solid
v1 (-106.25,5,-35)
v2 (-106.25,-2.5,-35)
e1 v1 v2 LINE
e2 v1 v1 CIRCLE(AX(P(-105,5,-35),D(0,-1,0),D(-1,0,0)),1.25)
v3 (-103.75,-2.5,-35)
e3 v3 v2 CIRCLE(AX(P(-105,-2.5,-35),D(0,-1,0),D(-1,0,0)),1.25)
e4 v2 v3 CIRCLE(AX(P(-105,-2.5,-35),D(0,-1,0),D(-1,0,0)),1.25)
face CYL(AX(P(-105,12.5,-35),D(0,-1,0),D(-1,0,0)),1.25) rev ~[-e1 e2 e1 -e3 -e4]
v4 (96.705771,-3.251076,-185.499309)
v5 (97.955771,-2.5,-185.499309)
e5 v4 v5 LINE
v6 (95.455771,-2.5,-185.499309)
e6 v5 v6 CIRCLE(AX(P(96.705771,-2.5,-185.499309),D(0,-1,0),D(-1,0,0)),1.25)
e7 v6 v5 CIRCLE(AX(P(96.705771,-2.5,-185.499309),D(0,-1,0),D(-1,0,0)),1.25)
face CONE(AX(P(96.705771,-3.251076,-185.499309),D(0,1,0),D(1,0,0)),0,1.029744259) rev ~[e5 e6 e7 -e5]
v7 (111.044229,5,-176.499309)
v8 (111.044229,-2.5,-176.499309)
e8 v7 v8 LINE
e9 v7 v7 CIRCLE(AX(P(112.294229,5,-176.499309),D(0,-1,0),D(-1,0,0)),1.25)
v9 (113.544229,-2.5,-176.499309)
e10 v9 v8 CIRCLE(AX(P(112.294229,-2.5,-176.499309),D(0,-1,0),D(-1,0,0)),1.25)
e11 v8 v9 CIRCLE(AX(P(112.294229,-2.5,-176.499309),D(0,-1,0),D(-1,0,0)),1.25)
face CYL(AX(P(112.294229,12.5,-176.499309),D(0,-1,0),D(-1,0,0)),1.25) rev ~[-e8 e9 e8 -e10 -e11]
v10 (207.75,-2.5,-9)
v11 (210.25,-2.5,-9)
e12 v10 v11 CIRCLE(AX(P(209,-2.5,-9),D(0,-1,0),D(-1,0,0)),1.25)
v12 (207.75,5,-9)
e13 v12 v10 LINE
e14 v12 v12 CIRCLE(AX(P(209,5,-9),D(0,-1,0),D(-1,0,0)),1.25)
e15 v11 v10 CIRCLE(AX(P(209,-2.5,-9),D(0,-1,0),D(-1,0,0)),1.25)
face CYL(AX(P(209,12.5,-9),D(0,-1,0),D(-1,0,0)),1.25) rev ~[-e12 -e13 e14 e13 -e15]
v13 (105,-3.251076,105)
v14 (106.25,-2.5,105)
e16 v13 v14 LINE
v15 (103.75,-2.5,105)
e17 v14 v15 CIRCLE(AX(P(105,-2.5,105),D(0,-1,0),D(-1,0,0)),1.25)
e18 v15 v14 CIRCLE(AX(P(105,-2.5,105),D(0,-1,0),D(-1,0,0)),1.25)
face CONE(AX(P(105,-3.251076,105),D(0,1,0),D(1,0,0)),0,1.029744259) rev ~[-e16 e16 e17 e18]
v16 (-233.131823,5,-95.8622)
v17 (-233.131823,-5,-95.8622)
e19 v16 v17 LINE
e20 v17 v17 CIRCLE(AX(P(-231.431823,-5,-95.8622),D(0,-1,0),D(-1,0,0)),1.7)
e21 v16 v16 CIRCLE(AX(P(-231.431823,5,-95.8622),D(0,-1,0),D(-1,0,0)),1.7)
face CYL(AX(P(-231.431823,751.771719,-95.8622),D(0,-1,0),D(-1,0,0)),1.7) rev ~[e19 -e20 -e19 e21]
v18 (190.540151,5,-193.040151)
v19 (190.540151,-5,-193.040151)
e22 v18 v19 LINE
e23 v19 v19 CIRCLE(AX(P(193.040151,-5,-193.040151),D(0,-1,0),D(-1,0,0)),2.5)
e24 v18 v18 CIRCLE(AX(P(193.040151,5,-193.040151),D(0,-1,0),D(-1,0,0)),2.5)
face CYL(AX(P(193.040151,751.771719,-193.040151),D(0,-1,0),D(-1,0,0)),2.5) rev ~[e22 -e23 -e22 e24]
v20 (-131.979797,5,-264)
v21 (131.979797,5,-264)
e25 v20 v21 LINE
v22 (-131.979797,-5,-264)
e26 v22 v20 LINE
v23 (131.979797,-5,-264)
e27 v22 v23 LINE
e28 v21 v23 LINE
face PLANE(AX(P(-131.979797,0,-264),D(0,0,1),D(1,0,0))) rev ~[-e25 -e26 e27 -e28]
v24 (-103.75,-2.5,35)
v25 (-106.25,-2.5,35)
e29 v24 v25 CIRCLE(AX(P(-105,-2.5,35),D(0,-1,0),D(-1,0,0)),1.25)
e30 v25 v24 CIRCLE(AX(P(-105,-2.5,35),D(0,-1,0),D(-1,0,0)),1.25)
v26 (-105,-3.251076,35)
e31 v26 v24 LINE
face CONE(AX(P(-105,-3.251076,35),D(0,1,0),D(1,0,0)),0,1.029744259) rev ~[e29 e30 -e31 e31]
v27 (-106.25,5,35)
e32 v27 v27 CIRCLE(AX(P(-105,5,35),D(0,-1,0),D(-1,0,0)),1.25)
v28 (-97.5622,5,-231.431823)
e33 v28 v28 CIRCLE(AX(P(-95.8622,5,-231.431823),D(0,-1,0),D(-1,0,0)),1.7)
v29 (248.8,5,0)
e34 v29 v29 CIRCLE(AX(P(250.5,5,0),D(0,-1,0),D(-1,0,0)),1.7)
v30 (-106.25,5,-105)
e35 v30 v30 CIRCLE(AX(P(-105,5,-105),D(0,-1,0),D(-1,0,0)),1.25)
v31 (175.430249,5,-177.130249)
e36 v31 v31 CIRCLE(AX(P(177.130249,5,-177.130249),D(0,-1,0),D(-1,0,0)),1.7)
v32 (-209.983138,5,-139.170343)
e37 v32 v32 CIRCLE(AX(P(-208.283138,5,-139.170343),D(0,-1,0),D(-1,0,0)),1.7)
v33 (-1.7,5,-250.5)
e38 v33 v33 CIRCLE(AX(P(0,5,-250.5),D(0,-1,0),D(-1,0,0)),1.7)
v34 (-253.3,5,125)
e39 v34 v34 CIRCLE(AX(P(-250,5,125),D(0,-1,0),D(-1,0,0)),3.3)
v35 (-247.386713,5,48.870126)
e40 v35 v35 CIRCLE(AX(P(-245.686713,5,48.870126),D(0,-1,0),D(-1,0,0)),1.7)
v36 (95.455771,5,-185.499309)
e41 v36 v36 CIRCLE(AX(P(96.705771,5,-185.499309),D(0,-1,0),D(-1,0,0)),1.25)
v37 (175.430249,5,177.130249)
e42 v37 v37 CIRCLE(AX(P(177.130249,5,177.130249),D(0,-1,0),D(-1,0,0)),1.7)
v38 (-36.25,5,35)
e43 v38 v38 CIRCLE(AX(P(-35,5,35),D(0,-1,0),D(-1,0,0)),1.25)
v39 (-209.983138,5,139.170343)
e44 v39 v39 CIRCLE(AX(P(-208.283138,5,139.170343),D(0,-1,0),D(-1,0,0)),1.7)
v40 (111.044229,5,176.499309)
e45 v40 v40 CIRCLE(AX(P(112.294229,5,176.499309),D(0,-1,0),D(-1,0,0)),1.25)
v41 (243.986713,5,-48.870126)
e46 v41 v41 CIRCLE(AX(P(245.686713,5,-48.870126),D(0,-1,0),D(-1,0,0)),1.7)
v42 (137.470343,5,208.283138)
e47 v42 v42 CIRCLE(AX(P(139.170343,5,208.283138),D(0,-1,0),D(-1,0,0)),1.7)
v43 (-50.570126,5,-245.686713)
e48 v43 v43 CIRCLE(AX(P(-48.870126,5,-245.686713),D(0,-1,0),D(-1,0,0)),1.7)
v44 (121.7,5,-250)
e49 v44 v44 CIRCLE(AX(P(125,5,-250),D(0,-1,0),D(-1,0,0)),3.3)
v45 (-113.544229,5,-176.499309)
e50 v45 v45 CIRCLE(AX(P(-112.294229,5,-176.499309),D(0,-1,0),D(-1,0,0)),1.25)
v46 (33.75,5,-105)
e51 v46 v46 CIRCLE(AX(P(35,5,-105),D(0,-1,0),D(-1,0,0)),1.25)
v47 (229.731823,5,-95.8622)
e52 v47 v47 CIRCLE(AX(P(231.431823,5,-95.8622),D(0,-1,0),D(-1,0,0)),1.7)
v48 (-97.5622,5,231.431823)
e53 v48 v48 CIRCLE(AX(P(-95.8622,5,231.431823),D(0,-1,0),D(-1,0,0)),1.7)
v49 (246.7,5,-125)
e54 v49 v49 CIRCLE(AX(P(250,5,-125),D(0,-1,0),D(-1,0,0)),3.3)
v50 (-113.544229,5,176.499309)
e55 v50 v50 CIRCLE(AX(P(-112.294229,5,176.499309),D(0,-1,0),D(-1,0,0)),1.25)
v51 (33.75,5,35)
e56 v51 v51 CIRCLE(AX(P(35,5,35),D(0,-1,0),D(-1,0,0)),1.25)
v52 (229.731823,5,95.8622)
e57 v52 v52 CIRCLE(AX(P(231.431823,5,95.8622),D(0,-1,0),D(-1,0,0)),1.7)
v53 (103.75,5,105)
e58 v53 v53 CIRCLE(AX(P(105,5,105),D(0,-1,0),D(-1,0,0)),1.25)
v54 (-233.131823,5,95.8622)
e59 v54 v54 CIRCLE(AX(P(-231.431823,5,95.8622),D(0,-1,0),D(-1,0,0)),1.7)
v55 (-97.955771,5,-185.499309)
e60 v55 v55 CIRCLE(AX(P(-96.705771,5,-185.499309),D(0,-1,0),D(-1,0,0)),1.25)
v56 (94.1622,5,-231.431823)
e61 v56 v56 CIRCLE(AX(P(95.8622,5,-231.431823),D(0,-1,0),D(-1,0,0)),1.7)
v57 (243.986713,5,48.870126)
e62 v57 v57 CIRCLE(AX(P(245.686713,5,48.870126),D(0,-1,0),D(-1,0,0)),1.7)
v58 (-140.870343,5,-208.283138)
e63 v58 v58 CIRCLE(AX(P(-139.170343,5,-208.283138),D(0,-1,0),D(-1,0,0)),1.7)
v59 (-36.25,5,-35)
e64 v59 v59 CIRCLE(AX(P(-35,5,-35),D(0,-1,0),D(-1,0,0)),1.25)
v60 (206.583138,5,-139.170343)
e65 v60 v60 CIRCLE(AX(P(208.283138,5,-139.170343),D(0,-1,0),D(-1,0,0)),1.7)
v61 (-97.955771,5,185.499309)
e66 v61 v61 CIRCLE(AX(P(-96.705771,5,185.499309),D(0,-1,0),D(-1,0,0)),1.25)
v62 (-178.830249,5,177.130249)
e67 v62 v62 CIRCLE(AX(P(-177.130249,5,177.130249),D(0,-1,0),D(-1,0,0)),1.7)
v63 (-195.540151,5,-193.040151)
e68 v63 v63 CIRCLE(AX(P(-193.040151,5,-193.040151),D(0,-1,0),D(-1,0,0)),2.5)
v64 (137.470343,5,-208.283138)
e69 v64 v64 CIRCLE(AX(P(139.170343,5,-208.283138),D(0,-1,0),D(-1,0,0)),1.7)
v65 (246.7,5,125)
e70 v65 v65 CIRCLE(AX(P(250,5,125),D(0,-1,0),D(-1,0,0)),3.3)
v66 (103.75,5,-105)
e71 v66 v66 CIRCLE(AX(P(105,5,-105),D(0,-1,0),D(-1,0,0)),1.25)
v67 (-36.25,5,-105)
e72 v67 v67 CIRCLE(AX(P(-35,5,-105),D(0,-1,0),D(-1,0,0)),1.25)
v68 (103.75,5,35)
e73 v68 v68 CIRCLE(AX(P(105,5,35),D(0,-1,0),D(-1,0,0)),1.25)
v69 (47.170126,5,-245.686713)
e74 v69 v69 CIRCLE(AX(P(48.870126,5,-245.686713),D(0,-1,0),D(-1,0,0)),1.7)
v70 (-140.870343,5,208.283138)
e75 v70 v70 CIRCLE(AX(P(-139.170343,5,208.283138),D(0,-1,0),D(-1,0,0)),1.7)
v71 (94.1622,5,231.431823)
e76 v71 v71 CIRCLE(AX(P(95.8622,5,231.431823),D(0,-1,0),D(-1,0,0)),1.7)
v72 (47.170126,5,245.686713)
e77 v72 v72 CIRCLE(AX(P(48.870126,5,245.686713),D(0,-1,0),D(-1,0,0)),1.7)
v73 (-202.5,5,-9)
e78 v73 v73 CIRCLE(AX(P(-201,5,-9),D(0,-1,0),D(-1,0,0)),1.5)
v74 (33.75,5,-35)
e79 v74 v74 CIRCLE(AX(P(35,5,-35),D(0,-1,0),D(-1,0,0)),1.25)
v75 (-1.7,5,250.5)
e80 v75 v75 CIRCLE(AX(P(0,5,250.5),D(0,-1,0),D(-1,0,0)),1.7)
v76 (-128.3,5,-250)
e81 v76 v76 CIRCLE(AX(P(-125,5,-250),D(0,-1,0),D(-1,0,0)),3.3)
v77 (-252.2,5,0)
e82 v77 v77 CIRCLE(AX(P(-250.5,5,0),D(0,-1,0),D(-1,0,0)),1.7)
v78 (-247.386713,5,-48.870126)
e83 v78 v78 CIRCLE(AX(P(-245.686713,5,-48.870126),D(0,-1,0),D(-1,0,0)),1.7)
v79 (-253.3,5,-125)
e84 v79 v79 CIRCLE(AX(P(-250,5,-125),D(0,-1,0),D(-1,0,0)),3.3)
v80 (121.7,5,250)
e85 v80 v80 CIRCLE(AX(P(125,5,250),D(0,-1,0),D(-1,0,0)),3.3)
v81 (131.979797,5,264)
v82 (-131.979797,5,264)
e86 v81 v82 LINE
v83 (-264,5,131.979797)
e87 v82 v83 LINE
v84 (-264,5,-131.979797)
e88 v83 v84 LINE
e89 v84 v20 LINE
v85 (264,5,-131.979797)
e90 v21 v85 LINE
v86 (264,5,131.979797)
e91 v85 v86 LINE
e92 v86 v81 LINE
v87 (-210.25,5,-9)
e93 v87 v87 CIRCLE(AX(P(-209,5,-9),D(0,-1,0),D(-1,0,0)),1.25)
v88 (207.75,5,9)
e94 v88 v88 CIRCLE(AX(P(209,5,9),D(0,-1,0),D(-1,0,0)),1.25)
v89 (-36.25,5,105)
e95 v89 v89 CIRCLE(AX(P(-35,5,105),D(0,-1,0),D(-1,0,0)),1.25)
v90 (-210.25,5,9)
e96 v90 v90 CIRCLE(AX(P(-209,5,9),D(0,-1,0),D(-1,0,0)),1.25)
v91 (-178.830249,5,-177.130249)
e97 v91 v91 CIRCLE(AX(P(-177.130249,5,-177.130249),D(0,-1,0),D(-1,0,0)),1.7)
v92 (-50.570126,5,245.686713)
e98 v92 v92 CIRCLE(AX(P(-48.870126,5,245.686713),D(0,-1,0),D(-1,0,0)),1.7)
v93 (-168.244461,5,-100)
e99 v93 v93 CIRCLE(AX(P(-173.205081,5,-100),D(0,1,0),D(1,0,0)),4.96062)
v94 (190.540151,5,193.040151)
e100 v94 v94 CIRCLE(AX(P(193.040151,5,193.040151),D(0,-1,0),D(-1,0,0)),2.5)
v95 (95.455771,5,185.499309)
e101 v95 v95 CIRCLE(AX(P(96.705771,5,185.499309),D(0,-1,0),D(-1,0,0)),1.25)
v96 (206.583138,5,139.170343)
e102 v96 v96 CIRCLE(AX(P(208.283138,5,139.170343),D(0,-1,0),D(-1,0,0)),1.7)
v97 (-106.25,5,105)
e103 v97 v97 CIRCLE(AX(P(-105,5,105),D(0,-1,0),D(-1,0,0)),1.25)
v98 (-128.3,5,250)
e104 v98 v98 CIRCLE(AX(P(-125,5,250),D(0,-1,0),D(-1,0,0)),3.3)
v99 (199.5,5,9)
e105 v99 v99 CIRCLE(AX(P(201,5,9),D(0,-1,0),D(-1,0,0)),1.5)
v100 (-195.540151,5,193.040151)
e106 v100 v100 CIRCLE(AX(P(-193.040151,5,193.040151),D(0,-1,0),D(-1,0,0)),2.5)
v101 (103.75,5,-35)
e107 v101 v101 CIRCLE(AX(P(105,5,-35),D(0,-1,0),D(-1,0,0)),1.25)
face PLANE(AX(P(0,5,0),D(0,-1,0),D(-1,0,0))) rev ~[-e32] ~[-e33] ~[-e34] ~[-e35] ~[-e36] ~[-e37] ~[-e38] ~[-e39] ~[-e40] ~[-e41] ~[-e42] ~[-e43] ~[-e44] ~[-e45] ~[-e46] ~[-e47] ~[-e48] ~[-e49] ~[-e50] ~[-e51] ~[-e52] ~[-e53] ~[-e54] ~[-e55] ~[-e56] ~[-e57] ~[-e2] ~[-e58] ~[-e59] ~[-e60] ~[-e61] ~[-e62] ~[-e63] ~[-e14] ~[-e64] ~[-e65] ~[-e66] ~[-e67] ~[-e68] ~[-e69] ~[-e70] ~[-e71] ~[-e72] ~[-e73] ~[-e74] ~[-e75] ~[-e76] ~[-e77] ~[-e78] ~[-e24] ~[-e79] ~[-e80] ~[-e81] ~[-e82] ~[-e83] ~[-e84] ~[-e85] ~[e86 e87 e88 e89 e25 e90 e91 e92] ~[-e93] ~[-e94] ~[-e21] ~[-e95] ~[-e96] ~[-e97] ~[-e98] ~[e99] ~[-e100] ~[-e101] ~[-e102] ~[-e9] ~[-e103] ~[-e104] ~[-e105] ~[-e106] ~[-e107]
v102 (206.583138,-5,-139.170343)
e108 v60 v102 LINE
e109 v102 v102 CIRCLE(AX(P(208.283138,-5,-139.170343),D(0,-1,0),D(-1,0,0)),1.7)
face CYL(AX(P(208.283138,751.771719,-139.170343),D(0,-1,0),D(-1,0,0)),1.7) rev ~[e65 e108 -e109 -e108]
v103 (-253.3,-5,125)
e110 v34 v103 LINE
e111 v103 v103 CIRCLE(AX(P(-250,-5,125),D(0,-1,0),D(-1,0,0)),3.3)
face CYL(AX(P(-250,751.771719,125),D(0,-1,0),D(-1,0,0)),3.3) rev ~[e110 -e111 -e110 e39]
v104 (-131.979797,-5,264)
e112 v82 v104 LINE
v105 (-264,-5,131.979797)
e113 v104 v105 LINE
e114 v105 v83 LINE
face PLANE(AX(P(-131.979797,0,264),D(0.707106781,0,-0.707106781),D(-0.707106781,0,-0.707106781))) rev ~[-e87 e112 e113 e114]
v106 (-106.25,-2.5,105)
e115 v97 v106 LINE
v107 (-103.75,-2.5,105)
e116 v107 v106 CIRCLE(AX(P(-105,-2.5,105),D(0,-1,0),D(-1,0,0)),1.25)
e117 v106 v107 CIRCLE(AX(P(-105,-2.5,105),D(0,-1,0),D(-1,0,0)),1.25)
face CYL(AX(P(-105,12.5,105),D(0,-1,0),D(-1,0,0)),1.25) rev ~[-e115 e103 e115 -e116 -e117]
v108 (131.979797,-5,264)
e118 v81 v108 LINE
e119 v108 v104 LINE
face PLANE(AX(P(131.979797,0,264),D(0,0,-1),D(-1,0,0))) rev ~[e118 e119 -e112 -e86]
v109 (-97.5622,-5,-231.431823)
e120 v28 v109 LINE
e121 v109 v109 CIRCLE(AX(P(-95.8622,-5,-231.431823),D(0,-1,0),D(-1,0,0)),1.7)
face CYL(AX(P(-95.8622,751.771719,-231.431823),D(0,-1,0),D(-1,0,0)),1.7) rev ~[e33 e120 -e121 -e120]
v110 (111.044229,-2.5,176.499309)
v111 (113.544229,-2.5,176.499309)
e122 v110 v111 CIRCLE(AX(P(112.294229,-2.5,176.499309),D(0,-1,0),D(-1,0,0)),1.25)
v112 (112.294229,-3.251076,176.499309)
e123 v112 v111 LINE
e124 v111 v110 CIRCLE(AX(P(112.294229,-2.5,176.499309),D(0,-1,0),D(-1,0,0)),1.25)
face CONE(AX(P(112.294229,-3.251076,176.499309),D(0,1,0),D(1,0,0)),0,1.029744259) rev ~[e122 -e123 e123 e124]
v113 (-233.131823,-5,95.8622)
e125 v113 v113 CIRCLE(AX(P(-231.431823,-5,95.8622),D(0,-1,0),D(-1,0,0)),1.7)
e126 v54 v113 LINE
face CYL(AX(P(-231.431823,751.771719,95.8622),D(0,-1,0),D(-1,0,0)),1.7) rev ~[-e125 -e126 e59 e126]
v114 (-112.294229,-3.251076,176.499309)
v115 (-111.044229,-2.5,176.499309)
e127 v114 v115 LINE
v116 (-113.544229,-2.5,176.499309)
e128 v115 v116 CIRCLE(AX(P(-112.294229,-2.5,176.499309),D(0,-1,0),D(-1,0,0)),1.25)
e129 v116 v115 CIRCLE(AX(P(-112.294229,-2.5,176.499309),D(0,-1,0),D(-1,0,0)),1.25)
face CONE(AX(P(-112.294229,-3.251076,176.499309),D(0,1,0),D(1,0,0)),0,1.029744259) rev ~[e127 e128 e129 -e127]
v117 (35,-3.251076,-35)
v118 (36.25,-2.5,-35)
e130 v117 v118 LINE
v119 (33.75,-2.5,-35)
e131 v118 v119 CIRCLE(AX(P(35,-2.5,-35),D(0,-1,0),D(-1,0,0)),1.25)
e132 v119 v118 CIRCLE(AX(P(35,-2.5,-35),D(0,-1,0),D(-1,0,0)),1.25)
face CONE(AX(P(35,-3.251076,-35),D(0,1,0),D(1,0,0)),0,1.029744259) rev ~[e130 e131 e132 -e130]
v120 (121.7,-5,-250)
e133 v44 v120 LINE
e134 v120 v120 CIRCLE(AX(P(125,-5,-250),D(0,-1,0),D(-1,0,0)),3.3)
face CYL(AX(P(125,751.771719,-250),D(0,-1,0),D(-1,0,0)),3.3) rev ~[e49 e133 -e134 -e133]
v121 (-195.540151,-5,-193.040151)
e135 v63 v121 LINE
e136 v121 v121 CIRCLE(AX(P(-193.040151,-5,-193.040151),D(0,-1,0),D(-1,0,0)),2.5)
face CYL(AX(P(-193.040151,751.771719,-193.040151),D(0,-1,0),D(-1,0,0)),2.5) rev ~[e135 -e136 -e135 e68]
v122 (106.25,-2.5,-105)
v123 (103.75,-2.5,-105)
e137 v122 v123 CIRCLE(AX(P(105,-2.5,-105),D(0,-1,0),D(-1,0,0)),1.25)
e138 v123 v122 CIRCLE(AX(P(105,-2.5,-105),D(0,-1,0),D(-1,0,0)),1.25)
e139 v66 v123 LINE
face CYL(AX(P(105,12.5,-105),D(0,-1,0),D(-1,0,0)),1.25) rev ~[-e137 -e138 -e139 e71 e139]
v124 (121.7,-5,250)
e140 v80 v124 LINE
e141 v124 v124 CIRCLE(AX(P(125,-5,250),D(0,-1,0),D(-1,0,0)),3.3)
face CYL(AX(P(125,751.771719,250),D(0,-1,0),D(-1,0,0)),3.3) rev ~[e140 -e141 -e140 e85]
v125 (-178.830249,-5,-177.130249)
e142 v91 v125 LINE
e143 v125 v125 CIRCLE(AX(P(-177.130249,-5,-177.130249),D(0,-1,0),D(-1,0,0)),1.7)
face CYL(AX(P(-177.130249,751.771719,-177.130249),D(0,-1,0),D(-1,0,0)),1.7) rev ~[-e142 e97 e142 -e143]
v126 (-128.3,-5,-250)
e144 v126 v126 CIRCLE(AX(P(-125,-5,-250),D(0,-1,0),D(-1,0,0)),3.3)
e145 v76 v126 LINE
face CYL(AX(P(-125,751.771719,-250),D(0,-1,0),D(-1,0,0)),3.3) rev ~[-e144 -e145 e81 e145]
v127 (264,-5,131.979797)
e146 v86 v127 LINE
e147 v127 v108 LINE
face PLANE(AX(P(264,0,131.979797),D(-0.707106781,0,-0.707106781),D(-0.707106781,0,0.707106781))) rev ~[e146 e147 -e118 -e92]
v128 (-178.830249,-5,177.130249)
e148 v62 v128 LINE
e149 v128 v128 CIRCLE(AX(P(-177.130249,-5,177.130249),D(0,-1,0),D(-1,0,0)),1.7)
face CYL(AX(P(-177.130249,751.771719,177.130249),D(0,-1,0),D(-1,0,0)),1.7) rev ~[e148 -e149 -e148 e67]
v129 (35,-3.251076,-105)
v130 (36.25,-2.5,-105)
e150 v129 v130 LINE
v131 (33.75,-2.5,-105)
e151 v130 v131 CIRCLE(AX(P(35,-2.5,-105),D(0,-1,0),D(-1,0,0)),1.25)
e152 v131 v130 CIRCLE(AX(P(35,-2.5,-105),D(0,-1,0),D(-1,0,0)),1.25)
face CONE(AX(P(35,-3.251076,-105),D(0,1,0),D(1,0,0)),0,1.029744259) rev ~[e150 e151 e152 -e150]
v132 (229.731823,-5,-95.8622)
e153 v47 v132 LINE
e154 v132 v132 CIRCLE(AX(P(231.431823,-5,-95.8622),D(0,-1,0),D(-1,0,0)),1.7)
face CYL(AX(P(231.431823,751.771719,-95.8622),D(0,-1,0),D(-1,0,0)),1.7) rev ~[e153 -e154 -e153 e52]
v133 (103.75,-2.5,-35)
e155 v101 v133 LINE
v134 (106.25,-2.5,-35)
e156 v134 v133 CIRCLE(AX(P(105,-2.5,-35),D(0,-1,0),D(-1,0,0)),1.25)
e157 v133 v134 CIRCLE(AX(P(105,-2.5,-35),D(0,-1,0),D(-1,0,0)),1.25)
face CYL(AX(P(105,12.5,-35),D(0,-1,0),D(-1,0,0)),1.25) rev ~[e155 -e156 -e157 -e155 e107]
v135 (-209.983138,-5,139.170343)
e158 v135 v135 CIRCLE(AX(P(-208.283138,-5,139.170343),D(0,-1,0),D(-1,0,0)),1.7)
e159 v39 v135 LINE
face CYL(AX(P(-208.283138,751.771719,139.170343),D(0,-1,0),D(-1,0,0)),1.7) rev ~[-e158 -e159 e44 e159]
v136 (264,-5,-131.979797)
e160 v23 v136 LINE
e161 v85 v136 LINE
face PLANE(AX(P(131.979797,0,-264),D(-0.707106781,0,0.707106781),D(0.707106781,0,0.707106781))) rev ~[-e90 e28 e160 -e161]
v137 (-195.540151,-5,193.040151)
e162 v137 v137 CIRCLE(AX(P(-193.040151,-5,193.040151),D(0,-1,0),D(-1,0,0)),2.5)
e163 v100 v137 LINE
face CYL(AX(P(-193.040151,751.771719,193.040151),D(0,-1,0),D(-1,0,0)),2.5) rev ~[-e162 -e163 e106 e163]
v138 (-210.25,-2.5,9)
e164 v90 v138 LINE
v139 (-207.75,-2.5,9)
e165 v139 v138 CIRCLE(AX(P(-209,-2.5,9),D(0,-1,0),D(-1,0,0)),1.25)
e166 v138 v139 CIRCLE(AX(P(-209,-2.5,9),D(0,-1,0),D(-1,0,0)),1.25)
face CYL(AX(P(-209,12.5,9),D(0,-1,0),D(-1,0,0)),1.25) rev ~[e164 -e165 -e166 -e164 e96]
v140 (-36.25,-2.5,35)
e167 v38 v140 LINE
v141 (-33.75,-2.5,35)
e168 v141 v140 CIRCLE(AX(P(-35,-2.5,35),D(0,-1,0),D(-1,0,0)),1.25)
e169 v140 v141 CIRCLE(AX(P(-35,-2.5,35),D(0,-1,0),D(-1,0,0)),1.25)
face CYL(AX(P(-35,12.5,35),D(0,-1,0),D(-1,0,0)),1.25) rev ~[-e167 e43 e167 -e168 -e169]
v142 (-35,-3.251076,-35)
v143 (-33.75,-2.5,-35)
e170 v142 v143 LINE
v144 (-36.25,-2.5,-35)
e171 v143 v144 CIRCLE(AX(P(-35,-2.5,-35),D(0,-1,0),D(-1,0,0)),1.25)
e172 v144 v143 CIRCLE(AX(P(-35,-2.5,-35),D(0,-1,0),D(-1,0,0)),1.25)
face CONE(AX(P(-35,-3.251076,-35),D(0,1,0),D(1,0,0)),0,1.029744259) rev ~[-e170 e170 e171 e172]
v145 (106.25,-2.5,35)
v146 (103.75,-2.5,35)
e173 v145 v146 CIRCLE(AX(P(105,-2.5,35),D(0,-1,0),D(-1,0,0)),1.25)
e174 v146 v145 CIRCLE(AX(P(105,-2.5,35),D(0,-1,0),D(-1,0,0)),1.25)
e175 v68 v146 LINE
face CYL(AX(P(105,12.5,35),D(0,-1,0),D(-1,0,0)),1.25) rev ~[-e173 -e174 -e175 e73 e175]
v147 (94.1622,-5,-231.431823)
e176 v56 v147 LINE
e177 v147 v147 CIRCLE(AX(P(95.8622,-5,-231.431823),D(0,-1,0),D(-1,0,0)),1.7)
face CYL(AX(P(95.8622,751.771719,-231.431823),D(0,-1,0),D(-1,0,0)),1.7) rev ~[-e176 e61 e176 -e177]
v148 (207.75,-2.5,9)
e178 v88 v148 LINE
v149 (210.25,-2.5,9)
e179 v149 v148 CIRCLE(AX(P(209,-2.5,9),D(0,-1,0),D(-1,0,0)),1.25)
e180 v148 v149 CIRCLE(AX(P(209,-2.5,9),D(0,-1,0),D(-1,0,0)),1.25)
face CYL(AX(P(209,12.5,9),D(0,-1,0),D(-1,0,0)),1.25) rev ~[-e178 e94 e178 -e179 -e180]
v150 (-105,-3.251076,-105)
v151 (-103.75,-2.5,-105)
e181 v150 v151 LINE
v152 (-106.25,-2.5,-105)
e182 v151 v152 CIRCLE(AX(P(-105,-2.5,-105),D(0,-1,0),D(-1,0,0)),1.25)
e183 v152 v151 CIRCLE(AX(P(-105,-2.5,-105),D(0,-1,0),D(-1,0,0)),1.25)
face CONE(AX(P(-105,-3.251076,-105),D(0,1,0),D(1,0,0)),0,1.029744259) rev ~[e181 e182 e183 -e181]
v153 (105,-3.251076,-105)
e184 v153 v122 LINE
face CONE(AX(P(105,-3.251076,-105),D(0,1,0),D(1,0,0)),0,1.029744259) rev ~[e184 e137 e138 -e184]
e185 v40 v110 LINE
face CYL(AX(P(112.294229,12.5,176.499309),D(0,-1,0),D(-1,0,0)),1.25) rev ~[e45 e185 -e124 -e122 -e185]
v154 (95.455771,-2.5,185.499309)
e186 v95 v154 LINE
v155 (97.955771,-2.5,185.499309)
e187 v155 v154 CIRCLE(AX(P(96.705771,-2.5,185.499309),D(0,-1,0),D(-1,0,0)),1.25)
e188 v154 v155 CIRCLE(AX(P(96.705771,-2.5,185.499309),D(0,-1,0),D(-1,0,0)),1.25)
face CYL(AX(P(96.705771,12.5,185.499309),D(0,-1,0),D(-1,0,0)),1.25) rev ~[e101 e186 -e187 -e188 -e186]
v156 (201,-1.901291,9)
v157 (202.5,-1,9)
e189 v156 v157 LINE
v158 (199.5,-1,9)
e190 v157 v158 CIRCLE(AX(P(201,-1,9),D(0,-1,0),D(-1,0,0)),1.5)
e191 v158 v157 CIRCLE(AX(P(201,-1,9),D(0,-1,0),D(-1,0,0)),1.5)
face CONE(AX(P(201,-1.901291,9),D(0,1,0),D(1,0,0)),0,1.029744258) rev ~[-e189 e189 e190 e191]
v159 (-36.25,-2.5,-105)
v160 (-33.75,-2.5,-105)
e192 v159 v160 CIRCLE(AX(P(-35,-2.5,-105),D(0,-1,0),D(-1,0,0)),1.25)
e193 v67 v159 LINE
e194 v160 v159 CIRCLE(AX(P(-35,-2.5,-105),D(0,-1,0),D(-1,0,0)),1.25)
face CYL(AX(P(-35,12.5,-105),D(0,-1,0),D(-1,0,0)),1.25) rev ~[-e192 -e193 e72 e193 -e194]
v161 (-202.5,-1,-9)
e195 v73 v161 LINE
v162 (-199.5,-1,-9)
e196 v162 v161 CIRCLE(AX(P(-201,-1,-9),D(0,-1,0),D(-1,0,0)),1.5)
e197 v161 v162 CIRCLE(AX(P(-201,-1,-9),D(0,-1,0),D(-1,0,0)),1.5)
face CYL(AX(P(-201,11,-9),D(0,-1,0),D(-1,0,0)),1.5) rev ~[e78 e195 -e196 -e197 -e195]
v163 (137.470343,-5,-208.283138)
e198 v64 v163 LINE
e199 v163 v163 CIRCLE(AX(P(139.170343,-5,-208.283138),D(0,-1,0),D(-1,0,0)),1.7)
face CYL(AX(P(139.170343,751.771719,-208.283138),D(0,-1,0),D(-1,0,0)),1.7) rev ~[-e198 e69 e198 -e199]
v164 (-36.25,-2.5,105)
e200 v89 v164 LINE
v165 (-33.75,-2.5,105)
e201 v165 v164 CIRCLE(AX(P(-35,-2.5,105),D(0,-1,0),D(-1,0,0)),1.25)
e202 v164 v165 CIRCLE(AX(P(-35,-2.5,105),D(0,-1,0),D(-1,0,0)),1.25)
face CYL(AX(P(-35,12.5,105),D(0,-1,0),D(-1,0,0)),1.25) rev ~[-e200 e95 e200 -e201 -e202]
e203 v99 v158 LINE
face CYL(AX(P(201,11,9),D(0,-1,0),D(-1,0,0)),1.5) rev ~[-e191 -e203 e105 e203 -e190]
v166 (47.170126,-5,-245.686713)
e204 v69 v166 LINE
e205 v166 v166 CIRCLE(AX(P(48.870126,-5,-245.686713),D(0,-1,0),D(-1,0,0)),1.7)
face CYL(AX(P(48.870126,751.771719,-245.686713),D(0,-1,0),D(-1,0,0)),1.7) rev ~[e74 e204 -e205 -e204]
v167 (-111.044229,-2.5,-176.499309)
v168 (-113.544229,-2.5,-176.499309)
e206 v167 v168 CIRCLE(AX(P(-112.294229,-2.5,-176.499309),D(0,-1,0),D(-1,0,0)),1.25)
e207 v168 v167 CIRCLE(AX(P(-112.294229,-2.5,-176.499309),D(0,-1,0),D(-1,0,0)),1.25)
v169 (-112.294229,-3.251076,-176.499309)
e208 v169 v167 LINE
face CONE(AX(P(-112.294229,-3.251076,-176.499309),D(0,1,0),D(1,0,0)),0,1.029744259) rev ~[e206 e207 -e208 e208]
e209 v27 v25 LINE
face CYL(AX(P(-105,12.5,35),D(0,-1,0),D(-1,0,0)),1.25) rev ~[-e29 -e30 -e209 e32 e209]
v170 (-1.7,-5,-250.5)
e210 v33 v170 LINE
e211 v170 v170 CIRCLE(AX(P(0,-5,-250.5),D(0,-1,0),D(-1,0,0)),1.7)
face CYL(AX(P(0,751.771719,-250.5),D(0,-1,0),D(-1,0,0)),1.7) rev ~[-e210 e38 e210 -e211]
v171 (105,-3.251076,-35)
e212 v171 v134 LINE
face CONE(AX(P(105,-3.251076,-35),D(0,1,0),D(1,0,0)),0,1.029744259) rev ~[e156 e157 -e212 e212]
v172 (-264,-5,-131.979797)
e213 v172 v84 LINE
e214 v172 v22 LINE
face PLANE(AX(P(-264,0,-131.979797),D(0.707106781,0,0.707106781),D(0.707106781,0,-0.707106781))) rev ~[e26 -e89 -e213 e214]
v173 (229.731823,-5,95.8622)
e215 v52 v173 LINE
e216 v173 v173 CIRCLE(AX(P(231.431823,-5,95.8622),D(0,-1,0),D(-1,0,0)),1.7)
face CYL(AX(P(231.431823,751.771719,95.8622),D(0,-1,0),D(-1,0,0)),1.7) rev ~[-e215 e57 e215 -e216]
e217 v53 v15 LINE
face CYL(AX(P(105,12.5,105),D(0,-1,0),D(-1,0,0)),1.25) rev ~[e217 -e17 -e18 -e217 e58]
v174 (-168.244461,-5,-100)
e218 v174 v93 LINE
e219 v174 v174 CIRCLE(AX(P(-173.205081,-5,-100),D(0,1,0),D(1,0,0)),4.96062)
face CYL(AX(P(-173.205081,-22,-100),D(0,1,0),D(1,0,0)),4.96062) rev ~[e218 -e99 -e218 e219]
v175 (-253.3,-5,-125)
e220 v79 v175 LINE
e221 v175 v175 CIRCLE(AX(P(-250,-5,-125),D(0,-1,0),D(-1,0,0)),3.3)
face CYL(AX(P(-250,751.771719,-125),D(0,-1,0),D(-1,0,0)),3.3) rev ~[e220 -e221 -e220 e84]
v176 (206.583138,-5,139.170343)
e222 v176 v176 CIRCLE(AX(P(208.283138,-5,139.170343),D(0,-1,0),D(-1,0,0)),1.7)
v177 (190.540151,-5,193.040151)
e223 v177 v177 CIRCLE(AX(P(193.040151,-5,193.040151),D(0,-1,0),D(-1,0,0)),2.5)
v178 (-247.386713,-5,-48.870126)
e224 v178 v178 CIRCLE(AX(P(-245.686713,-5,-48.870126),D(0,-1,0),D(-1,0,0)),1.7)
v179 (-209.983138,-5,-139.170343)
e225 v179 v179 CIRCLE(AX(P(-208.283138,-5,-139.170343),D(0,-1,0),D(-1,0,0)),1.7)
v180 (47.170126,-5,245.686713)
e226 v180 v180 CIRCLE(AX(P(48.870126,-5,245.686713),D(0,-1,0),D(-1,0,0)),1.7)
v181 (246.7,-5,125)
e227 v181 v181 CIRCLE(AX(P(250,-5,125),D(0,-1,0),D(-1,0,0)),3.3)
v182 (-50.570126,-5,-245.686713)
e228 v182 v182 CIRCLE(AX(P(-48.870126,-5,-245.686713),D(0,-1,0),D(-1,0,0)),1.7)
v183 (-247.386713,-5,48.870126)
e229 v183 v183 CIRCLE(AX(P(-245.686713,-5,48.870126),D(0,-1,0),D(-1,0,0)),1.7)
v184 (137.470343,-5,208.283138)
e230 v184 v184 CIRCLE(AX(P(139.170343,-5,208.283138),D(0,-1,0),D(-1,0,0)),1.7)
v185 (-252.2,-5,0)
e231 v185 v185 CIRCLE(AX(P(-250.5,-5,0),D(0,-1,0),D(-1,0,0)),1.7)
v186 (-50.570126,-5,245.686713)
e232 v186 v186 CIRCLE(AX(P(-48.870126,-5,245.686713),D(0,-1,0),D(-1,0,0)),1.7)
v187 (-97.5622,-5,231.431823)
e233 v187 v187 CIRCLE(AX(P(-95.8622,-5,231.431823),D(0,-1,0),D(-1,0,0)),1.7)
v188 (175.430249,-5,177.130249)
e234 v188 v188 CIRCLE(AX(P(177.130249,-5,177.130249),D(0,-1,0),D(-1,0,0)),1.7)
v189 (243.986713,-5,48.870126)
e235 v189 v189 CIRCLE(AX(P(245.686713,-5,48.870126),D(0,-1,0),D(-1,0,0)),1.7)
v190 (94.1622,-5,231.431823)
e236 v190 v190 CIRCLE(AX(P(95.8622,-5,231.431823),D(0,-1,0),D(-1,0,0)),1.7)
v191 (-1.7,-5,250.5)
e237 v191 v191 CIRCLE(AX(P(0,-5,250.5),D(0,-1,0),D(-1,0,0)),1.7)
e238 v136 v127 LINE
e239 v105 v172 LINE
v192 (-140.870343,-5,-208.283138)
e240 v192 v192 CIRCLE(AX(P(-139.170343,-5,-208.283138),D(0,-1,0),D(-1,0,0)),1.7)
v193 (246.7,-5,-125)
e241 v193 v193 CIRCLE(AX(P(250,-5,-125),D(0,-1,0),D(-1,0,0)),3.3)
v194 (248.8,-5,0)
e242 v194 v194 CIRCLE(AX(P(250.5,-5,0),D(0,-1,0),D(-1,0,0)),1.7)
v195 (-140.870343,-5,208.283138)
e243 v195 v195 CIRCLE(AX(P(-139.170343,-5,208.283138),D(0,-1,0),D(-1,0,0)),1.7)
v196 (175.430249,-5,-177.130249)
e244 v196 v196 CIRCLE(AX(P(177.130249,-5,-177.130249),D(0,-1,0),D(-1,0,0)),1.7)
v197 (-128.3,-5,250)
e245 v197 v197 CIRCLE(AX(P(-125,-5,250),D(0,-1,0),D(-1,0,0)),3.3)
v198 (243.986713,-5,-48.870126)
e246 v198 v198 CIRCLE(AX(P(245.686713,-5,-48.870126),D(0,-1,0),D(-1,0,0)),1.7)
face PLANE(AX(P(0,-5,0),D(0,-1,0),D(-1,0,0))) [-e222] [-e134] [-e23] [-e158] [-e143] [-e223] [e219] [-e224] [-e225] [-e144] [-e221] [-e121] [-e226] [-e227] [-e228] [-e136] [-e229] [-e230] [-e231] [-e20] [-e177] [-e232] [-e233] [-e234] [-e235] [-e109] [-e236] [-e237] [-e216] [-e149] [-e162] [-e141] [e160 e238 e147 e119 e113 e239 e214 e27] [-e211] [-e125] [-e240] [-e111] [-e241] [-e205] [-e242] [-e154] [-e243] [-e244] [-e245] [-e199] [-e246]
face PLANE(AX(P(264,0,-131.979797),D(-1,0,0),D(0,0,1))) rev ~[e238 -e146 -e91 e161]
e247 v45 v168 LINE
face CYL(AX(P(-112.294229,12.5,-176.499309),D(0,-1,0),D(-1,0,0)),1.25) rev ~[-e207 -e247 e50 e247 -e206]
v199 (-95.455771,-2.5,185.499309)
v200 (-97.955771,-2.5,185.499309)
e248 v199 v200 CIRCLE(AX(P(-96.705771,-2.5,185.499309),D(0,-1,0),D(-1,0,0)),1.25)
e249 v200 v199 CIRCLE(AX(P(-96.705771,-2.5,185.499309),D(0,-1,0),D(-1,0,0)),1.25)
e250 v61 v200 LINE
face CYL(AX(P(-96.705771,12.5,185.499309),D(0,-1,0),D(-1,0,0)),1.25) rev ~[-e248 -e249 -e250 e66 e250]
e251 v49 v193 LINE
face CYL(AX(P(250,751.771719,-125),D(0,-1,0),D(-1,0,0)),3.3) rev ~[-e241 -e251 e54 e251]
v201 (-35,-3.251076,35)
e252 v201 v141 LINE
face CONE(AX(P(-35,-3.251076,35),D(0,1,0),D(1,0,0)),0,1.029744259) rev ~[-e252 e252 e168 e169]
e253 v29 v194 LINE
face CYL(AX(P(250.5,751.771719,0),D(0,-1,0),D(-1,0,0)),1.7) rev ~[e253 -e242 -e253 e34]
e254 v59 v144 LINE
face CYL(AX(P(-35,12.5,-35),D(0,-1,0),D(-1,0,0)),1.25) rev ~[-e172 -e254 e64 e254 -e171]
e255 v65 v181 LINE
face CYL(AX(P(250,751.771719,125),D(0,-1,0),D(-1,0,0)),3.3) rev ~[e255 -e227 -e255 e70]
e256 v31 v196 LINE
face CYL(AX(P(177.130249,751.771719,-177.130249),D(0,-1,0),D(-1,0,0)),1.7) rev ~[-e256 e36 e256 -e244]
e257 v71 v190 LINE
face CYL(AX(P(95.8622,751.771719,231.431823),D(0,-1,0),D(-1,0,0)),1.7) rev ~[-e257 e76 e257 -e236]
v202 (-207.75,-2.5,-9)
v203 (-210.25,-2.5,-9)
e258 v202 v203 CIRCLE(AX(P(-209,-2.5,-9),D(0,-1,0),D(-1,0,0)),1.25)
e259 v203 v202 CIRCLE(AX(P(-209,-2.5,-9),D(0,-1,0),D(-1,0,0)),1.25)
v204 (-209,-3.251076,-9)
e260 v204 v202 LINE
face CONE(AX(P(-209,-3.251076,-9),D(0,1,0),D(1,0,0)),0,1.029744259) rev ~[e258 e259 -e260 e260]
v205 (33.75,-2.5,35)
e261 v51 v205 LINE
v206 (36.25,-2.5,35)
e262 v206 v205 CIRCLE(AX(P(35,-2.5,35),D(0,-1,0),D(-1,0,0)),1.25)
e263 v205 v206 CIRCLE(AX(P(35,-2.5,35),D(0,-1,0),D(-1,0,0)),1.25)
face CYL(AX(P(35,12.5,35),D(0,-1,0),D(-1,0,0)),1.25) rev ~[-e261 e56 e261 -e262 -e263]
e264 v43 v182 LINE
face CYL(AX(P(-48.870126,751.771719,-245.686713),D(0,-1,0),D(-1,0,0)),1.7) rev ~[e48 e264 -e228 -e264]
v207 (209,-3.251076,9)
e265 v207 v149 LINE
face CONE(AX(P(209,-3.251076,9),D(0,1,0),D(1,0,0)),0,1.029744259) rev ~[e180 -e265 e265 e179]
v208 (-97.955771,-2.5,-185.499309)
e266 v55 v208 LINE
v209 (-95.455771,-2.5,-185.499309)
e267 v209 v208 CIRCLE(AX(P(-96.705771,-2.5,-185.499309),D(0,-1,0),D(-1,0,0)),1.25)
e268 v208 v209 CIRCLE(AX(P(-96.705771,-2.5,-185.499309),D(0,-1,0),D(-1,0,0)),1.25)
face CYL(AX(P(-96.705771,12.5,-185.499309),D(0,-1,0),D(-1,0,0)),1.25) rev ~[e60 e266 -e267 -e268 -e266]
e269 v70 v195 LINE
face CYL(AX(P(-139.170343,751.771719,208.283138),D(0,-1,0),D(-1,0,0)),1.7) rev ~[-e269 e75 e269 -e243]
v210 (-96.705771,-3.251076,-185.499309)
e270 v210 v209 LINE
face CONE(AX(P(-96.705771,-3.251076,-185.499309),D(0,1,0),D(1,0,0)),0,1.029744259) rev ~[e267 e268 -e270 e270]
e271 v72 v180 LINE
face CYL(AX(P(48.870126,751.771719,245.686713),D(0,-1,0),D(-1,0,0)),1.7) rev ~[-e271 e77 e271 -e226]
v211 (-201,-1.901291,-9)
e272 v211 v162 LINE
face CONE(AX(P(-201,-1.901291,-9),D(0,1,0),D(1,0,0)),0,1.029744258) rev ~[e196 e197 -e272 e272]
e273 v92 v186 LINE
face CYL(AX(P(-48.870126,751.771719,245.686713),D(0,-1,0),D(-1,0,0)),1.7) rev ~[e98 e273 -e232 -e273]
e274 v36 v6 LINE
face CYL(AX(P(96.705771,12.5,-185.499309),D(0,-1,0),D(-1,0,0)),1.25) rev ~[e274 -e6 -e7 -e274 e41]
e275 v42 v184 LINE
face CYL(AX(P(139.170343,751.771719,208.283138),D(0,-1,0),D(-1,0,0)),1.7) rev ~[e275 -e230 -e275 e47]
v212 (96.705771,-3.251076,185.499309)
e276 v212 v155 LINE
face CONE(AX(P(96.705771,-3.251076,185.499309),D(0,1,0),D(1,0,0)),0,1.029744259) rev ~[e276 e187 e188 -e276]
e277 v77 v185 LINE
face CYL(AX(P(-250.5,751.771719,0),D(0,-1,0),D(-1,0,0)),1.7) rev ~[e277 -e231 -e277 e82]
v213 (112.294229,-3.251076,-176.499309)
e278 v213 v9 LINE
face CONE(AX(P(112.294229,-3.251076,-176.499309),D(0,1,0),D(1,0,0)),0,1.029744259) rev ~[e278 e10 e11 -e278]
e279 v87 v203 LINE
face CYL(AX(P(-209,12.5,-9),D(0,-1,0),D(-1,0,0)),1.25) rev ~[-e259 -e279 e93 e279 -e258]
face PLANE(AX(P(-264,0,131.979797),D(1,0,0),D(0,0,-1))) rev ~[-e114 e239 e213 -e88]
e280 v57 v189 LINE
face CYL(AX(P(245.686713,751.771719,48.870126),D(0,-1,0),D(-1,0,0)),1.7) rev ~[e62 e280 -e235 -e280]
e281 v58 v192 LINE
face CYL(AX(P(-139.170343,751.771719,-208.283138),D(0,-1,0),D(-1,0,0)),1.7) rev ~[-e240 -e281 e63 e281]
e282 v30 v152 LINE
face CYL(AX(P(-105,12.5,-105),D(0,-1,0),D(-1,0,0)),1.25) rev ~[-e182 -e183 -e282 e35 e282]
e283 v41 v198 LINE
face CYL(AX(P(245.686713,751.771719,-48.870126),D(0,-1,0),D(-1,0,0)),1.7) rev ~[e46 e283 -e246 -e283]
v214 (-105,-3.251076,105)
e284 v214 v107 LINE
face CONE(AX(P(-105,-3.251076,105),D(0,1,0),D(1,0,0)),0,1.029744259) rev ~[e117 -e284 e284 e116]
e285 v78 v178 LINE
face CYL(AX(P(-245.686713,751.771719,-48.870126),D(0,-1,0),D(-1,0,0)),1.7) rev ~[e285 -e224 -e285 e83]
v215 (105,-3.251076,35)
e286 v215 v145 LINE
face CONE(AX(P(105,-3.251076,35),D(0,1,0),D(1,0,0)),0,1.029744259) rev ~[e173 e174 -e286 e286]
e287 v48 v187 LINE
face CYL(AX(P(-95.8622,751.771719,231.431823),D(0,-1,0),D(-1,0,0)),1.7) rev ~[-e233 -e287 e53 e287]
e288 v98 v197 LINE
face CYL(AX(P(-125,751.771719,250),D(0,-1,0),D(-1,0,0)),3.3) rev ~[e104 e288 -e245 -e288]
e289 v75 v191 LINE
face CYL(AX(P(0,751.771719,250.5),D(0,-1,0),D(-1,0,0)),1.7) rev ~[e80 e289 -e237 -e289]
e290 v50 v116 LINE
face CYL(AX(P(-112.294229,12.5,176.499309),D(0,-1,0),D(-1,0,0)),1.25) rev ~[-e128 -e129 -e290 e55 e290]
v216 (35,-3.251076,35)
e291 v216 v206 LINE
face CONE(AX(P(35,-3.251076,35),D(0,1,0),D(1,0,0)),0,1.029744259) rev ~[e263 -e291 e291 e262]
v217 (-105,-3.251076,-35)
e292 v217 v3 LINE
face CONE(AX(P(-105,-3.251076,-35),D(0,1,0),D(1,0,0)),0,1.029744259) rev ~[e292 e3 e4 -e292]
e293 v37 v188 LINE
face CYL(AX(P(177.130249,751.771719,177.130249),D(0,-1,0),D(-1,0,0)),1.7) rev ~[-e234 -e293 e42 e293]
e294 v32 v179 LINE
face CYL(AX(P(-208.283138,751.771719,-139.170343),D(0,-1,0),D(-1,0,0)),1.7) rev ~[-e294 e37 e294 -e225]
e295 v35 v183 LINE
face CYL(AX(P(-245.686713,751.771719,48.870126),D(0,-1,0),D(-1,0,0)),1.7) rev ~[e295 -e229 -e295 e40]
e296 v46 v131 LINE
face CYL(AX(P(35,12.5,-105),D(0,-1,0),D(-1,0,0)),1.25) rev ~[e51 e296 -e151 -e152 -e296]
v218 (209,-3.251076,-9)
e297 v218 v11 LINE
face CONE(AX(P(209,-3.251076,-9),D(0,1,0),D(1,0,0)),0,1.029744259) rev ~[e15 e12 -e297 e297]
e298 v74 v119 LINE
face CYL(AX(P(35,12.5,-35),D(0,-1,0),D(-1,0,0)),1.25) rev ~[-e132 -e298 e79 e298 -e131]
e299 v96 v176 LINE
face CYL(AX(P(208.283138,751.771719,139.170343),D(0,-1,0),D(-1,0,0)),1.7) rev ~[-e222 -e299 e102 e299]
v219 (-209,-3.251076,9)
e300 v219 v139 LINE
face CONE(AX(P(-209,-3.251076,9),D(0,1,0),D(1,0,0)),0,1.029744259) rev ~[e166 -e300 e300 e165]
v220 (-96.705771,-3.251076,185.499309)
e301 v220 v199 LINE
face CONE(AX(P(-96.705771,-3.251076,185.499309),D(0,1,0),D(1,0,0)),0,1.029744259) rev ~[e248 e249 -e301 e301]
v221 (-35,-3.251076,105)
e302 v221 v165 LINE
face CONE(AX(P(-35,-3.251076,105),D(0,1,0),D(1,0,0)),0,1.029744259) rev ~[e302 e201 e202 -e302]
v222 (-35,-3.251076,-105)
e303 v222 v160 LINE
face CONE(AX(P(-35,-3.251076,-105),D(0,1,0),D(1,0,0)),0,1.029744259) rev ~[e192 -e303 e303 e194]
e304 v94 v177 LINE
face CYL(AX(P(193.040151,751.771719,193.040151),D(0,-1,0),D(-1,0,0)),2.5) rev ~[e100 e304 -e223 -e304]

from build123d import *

# Parameters (mm, degrees)
BOSS_EXTRUDE1_DEPTH          = 5
M3_CLEARANCE_HOLE1_D         = 3.4
M3X0_5_TAPPED_HOLE1_D        = 2.5
M3X0_5_TAPPED_HOLE1_DEPTH    = 7.5
M3X0_5_TAPPED_HOLE1_TIP      = 0.751075774
F_3_0MM_DOWEL_HOLE1_D        = 3
F_3_0MM_DOWEL_HOLE1_DEPTH    = 6
F_3_0MM_DOWEL_HOLE1_TIP      = 0.901290929
M3X0_5_TAPPED_HOLE2_D        = 2.5
M3X0_5_TAPPED_HOLE2_DEPTH    = 7.5
M3X0_5_TAPPED_HOLE2_TIP      = 0.751075774
M6X1_0_TAPPED_HOLE1_D        = 5
M6_CLEARANCE_HOLE1_D         = 6.6
F_7_16_20_TAPPED_HOLE1_D     = 9.92124
F_7_16_20_TAPPED_HOLE1_DEPTH = 17
F_7_16_20_TAPPED_HOLE1_TIP   = 2.980641204


with BuildPart() as part:
    # Sketch1 → Boss-Extrude1 (new, symmetric)
    with BuildSketch(Plane(origin=(0, 0, 0), x_dir=(1, 0, 0), z_dir=(0, 1, 0))):
        Polygon((-131.979797464, 264), (131.979797464, 264), (264, 131.979797464), (264, -131.979797464), (131.979797464, -264), (-131.979797464, -264), (-264, -131.979797464), (-264, 131.979797464), align=None)
    extrude(amount=BOSS_EXTRUDE1_DEPTH, both=True)

    # M3 Clearance Hole1 (through all)
    with Locations(Plane(origin=(0, 5, 0), x_dir=(1, 0, 0), z_dir=(0, 1, 0))):
        with Locations((250.5, 0), (245.686712741, -48.870125665), (231.431822894, -95.862199807), (208.283137882, -139.170343371), (177.130248687, -177.130248687), (139.170343371, -208.283137882), (95.862199807, -231.431822894), (48.870125665, -245.686712741), (0, -250.5), (-48.870125665, -245.686712741), (-95.862199807, -231.431822894), (-139.170343371, -208.283137882), (-177.130248687, -177.130248687), (-208.283137882, -139.170343371), (-231.431822894, -95.862199807), (-245.686712741, -48.870125665), (-250.5, 0), (-245.686712741, 48.870125665), (-231.431822894, 95.862199807), (-208.283137882, 139.170343371), (-177.130248687, 177.130248687), (-139.170343371, 208.283137882), (-95.862199807, 231.431822894), (-48.870125665, 245.686712741), (0, 250.5), (48.870125665, 245.686712741), (95.862199807, 231.431822894), (139.170343371, 208.283137882), (177.130248687, 177.130248687), (208.283137882, 139.170343371), (231.431822894, 95.862199807), (245.686712741, 48.870125665)):
            Hole(M3_CLEARANCE_HOLE1_D / 2)

    # M3x0.5 Tapped Hole1
    with Locations(Plane(origin=(0, 5, 0), x_dir=(1, 0, 0), z_dir=(0, 1, 0))):
        with Locations((209, 9), (209, -9), (112.294228634, -176.499309391), (96.705771366, -185.499309391), (-96.705771366, -185.499309391), (-112.294228634, -176.499309391), (-209, -9), (-209, 9), (-112.294228634, 176.499309391), (-96.705771366, 185.499309391), (96.705771366, 185.499309391), (112.294228634, 176.499309391)):
            Hole(M3X0_5_TAPPED_HOLE1_D / 2, depth=M3X0_5_TAPPED_HOLE1_DEPTH)
            with Locations((0, 0, -(M3X0_5_TAPPED_HOLE1_DEPTH + M3X0_5_TAPPED_HOLE1_TIP / 2))):  # 118° drill point
                Cone(0, M3X0_5_TAPPED_HOLE1_D / 2, M3X0_5_TAPPED_HOLE1_TIP, mode=Mode.SUBTRACT)

    # Ø3.0mm Dowel Hole1
    with Locations(Plane(origin=(0, 5, 0), x_dir=(1, 0, 0), z_dir=(0, 1, 0))):
        with Locations((201, -9), (-201, 9)):
            Hole(F_3_0MM_DOWEL_HOLE1_D / 2, depth=F_3_0MM_DOWEL_HOLE1_DEPTH)
            with Locations((0, 0, -(F_3_0MM_DOWEL_HOLE1_DEPTH + F_3_0MM_DOWEL_HOLE1_TIP / 2))):  # 118° drill point
                Cone(0, F_3_0MM_DOWEL_HOLE1_D / 2, F_3_0MM_DOWEL_HOLE1_TIP, mode=Mode.SUBTRACT)

    # M3x0.5 Tapped Hole2
    with Locations(Plane(origin=(0, 5, 0), x_dir=(1, 0, 0), z_dir=(0, 1, 0))):
        with Locations((-105, -105), (-35, -105), (105, -105), (-35, -35), (35, -35), (105, -35), (-35, 35), (35, 35), (105, 35), (-35, 105), (35, 105), (105, 105), (-105, -35), (-105, 35), (-105, 105)):
            Hole(M3X0_5_TAPPED_HOLE2_D / 2, depth=M3X0_5_TAPPED_HOLE2_DEPTH)
            with Locations((0, 0, -(M3X0_5_TAPPED_HOLE2_DEPTH + M3X0_5_TAPPED_HOLE2_TIP / 2))):  # 118° drill point
                Cone(0, M3X0_5_TAPPED_HOLE2_D / 2, M3X0_5_TAPPED_HOLE2_TIP, mode=Mode.SUBTRACT)

    # M6x1.0 Tapped Hole1 (through all)
    with Locations(Plane(origin=(0, 5, 0), x_dir=(1, 0, 0), z_dir=(0, 1, 0))):
        with Locations((-193.040151264, -193.040151264), (-193.040151264, 193.040151264), (193.040151264, 193.040151264), (193.040151264, -193.040151264)):
            Hole(M6X1_0_TAPPED_HOLE1_D / 2)

    # M6 Clearance Hole1 (through all)
    with Locations(Plane(origin=(0, 5, 0), x_dir=(1, 0, 0), z_dir=(0, 1, 0))):
        with Locations((-125, -250), (-250, -125), (-125, 250), (-250, 125), (125, -250), (250, -125), (250, 125), (125, 250)):
            Hole(M6_CLEARANCE_HOLE1_D / 2)

    # 7/16-20 Tapped Hole1
    with Locations(Plane(origin=(0, -5, 0), x_dir=(-1, 0, 0), z_dir=(0, -1, 0))):
        with Locations((173.205080757, 100)):
            Hole(F_7_16_20_TAPPED_HOLE1_D / 2, depth=F_7_16_20_TAPPED_HOLE1_DEPTH)
            with Locations((0, 0, -(F_7_16_20_TAPPED_HOLE1_DEPTH + F_7_16_20_TAPPED_HOLE1_TIP / 2))):  # 118° drill point
                Cone(0, F_7_16_20_TAPPED_HOLE1_D / 2, F_7_16_20_TAPPED_HOLE1_TIP, mode=Mode.SUBTRACT)


solid = part.part
